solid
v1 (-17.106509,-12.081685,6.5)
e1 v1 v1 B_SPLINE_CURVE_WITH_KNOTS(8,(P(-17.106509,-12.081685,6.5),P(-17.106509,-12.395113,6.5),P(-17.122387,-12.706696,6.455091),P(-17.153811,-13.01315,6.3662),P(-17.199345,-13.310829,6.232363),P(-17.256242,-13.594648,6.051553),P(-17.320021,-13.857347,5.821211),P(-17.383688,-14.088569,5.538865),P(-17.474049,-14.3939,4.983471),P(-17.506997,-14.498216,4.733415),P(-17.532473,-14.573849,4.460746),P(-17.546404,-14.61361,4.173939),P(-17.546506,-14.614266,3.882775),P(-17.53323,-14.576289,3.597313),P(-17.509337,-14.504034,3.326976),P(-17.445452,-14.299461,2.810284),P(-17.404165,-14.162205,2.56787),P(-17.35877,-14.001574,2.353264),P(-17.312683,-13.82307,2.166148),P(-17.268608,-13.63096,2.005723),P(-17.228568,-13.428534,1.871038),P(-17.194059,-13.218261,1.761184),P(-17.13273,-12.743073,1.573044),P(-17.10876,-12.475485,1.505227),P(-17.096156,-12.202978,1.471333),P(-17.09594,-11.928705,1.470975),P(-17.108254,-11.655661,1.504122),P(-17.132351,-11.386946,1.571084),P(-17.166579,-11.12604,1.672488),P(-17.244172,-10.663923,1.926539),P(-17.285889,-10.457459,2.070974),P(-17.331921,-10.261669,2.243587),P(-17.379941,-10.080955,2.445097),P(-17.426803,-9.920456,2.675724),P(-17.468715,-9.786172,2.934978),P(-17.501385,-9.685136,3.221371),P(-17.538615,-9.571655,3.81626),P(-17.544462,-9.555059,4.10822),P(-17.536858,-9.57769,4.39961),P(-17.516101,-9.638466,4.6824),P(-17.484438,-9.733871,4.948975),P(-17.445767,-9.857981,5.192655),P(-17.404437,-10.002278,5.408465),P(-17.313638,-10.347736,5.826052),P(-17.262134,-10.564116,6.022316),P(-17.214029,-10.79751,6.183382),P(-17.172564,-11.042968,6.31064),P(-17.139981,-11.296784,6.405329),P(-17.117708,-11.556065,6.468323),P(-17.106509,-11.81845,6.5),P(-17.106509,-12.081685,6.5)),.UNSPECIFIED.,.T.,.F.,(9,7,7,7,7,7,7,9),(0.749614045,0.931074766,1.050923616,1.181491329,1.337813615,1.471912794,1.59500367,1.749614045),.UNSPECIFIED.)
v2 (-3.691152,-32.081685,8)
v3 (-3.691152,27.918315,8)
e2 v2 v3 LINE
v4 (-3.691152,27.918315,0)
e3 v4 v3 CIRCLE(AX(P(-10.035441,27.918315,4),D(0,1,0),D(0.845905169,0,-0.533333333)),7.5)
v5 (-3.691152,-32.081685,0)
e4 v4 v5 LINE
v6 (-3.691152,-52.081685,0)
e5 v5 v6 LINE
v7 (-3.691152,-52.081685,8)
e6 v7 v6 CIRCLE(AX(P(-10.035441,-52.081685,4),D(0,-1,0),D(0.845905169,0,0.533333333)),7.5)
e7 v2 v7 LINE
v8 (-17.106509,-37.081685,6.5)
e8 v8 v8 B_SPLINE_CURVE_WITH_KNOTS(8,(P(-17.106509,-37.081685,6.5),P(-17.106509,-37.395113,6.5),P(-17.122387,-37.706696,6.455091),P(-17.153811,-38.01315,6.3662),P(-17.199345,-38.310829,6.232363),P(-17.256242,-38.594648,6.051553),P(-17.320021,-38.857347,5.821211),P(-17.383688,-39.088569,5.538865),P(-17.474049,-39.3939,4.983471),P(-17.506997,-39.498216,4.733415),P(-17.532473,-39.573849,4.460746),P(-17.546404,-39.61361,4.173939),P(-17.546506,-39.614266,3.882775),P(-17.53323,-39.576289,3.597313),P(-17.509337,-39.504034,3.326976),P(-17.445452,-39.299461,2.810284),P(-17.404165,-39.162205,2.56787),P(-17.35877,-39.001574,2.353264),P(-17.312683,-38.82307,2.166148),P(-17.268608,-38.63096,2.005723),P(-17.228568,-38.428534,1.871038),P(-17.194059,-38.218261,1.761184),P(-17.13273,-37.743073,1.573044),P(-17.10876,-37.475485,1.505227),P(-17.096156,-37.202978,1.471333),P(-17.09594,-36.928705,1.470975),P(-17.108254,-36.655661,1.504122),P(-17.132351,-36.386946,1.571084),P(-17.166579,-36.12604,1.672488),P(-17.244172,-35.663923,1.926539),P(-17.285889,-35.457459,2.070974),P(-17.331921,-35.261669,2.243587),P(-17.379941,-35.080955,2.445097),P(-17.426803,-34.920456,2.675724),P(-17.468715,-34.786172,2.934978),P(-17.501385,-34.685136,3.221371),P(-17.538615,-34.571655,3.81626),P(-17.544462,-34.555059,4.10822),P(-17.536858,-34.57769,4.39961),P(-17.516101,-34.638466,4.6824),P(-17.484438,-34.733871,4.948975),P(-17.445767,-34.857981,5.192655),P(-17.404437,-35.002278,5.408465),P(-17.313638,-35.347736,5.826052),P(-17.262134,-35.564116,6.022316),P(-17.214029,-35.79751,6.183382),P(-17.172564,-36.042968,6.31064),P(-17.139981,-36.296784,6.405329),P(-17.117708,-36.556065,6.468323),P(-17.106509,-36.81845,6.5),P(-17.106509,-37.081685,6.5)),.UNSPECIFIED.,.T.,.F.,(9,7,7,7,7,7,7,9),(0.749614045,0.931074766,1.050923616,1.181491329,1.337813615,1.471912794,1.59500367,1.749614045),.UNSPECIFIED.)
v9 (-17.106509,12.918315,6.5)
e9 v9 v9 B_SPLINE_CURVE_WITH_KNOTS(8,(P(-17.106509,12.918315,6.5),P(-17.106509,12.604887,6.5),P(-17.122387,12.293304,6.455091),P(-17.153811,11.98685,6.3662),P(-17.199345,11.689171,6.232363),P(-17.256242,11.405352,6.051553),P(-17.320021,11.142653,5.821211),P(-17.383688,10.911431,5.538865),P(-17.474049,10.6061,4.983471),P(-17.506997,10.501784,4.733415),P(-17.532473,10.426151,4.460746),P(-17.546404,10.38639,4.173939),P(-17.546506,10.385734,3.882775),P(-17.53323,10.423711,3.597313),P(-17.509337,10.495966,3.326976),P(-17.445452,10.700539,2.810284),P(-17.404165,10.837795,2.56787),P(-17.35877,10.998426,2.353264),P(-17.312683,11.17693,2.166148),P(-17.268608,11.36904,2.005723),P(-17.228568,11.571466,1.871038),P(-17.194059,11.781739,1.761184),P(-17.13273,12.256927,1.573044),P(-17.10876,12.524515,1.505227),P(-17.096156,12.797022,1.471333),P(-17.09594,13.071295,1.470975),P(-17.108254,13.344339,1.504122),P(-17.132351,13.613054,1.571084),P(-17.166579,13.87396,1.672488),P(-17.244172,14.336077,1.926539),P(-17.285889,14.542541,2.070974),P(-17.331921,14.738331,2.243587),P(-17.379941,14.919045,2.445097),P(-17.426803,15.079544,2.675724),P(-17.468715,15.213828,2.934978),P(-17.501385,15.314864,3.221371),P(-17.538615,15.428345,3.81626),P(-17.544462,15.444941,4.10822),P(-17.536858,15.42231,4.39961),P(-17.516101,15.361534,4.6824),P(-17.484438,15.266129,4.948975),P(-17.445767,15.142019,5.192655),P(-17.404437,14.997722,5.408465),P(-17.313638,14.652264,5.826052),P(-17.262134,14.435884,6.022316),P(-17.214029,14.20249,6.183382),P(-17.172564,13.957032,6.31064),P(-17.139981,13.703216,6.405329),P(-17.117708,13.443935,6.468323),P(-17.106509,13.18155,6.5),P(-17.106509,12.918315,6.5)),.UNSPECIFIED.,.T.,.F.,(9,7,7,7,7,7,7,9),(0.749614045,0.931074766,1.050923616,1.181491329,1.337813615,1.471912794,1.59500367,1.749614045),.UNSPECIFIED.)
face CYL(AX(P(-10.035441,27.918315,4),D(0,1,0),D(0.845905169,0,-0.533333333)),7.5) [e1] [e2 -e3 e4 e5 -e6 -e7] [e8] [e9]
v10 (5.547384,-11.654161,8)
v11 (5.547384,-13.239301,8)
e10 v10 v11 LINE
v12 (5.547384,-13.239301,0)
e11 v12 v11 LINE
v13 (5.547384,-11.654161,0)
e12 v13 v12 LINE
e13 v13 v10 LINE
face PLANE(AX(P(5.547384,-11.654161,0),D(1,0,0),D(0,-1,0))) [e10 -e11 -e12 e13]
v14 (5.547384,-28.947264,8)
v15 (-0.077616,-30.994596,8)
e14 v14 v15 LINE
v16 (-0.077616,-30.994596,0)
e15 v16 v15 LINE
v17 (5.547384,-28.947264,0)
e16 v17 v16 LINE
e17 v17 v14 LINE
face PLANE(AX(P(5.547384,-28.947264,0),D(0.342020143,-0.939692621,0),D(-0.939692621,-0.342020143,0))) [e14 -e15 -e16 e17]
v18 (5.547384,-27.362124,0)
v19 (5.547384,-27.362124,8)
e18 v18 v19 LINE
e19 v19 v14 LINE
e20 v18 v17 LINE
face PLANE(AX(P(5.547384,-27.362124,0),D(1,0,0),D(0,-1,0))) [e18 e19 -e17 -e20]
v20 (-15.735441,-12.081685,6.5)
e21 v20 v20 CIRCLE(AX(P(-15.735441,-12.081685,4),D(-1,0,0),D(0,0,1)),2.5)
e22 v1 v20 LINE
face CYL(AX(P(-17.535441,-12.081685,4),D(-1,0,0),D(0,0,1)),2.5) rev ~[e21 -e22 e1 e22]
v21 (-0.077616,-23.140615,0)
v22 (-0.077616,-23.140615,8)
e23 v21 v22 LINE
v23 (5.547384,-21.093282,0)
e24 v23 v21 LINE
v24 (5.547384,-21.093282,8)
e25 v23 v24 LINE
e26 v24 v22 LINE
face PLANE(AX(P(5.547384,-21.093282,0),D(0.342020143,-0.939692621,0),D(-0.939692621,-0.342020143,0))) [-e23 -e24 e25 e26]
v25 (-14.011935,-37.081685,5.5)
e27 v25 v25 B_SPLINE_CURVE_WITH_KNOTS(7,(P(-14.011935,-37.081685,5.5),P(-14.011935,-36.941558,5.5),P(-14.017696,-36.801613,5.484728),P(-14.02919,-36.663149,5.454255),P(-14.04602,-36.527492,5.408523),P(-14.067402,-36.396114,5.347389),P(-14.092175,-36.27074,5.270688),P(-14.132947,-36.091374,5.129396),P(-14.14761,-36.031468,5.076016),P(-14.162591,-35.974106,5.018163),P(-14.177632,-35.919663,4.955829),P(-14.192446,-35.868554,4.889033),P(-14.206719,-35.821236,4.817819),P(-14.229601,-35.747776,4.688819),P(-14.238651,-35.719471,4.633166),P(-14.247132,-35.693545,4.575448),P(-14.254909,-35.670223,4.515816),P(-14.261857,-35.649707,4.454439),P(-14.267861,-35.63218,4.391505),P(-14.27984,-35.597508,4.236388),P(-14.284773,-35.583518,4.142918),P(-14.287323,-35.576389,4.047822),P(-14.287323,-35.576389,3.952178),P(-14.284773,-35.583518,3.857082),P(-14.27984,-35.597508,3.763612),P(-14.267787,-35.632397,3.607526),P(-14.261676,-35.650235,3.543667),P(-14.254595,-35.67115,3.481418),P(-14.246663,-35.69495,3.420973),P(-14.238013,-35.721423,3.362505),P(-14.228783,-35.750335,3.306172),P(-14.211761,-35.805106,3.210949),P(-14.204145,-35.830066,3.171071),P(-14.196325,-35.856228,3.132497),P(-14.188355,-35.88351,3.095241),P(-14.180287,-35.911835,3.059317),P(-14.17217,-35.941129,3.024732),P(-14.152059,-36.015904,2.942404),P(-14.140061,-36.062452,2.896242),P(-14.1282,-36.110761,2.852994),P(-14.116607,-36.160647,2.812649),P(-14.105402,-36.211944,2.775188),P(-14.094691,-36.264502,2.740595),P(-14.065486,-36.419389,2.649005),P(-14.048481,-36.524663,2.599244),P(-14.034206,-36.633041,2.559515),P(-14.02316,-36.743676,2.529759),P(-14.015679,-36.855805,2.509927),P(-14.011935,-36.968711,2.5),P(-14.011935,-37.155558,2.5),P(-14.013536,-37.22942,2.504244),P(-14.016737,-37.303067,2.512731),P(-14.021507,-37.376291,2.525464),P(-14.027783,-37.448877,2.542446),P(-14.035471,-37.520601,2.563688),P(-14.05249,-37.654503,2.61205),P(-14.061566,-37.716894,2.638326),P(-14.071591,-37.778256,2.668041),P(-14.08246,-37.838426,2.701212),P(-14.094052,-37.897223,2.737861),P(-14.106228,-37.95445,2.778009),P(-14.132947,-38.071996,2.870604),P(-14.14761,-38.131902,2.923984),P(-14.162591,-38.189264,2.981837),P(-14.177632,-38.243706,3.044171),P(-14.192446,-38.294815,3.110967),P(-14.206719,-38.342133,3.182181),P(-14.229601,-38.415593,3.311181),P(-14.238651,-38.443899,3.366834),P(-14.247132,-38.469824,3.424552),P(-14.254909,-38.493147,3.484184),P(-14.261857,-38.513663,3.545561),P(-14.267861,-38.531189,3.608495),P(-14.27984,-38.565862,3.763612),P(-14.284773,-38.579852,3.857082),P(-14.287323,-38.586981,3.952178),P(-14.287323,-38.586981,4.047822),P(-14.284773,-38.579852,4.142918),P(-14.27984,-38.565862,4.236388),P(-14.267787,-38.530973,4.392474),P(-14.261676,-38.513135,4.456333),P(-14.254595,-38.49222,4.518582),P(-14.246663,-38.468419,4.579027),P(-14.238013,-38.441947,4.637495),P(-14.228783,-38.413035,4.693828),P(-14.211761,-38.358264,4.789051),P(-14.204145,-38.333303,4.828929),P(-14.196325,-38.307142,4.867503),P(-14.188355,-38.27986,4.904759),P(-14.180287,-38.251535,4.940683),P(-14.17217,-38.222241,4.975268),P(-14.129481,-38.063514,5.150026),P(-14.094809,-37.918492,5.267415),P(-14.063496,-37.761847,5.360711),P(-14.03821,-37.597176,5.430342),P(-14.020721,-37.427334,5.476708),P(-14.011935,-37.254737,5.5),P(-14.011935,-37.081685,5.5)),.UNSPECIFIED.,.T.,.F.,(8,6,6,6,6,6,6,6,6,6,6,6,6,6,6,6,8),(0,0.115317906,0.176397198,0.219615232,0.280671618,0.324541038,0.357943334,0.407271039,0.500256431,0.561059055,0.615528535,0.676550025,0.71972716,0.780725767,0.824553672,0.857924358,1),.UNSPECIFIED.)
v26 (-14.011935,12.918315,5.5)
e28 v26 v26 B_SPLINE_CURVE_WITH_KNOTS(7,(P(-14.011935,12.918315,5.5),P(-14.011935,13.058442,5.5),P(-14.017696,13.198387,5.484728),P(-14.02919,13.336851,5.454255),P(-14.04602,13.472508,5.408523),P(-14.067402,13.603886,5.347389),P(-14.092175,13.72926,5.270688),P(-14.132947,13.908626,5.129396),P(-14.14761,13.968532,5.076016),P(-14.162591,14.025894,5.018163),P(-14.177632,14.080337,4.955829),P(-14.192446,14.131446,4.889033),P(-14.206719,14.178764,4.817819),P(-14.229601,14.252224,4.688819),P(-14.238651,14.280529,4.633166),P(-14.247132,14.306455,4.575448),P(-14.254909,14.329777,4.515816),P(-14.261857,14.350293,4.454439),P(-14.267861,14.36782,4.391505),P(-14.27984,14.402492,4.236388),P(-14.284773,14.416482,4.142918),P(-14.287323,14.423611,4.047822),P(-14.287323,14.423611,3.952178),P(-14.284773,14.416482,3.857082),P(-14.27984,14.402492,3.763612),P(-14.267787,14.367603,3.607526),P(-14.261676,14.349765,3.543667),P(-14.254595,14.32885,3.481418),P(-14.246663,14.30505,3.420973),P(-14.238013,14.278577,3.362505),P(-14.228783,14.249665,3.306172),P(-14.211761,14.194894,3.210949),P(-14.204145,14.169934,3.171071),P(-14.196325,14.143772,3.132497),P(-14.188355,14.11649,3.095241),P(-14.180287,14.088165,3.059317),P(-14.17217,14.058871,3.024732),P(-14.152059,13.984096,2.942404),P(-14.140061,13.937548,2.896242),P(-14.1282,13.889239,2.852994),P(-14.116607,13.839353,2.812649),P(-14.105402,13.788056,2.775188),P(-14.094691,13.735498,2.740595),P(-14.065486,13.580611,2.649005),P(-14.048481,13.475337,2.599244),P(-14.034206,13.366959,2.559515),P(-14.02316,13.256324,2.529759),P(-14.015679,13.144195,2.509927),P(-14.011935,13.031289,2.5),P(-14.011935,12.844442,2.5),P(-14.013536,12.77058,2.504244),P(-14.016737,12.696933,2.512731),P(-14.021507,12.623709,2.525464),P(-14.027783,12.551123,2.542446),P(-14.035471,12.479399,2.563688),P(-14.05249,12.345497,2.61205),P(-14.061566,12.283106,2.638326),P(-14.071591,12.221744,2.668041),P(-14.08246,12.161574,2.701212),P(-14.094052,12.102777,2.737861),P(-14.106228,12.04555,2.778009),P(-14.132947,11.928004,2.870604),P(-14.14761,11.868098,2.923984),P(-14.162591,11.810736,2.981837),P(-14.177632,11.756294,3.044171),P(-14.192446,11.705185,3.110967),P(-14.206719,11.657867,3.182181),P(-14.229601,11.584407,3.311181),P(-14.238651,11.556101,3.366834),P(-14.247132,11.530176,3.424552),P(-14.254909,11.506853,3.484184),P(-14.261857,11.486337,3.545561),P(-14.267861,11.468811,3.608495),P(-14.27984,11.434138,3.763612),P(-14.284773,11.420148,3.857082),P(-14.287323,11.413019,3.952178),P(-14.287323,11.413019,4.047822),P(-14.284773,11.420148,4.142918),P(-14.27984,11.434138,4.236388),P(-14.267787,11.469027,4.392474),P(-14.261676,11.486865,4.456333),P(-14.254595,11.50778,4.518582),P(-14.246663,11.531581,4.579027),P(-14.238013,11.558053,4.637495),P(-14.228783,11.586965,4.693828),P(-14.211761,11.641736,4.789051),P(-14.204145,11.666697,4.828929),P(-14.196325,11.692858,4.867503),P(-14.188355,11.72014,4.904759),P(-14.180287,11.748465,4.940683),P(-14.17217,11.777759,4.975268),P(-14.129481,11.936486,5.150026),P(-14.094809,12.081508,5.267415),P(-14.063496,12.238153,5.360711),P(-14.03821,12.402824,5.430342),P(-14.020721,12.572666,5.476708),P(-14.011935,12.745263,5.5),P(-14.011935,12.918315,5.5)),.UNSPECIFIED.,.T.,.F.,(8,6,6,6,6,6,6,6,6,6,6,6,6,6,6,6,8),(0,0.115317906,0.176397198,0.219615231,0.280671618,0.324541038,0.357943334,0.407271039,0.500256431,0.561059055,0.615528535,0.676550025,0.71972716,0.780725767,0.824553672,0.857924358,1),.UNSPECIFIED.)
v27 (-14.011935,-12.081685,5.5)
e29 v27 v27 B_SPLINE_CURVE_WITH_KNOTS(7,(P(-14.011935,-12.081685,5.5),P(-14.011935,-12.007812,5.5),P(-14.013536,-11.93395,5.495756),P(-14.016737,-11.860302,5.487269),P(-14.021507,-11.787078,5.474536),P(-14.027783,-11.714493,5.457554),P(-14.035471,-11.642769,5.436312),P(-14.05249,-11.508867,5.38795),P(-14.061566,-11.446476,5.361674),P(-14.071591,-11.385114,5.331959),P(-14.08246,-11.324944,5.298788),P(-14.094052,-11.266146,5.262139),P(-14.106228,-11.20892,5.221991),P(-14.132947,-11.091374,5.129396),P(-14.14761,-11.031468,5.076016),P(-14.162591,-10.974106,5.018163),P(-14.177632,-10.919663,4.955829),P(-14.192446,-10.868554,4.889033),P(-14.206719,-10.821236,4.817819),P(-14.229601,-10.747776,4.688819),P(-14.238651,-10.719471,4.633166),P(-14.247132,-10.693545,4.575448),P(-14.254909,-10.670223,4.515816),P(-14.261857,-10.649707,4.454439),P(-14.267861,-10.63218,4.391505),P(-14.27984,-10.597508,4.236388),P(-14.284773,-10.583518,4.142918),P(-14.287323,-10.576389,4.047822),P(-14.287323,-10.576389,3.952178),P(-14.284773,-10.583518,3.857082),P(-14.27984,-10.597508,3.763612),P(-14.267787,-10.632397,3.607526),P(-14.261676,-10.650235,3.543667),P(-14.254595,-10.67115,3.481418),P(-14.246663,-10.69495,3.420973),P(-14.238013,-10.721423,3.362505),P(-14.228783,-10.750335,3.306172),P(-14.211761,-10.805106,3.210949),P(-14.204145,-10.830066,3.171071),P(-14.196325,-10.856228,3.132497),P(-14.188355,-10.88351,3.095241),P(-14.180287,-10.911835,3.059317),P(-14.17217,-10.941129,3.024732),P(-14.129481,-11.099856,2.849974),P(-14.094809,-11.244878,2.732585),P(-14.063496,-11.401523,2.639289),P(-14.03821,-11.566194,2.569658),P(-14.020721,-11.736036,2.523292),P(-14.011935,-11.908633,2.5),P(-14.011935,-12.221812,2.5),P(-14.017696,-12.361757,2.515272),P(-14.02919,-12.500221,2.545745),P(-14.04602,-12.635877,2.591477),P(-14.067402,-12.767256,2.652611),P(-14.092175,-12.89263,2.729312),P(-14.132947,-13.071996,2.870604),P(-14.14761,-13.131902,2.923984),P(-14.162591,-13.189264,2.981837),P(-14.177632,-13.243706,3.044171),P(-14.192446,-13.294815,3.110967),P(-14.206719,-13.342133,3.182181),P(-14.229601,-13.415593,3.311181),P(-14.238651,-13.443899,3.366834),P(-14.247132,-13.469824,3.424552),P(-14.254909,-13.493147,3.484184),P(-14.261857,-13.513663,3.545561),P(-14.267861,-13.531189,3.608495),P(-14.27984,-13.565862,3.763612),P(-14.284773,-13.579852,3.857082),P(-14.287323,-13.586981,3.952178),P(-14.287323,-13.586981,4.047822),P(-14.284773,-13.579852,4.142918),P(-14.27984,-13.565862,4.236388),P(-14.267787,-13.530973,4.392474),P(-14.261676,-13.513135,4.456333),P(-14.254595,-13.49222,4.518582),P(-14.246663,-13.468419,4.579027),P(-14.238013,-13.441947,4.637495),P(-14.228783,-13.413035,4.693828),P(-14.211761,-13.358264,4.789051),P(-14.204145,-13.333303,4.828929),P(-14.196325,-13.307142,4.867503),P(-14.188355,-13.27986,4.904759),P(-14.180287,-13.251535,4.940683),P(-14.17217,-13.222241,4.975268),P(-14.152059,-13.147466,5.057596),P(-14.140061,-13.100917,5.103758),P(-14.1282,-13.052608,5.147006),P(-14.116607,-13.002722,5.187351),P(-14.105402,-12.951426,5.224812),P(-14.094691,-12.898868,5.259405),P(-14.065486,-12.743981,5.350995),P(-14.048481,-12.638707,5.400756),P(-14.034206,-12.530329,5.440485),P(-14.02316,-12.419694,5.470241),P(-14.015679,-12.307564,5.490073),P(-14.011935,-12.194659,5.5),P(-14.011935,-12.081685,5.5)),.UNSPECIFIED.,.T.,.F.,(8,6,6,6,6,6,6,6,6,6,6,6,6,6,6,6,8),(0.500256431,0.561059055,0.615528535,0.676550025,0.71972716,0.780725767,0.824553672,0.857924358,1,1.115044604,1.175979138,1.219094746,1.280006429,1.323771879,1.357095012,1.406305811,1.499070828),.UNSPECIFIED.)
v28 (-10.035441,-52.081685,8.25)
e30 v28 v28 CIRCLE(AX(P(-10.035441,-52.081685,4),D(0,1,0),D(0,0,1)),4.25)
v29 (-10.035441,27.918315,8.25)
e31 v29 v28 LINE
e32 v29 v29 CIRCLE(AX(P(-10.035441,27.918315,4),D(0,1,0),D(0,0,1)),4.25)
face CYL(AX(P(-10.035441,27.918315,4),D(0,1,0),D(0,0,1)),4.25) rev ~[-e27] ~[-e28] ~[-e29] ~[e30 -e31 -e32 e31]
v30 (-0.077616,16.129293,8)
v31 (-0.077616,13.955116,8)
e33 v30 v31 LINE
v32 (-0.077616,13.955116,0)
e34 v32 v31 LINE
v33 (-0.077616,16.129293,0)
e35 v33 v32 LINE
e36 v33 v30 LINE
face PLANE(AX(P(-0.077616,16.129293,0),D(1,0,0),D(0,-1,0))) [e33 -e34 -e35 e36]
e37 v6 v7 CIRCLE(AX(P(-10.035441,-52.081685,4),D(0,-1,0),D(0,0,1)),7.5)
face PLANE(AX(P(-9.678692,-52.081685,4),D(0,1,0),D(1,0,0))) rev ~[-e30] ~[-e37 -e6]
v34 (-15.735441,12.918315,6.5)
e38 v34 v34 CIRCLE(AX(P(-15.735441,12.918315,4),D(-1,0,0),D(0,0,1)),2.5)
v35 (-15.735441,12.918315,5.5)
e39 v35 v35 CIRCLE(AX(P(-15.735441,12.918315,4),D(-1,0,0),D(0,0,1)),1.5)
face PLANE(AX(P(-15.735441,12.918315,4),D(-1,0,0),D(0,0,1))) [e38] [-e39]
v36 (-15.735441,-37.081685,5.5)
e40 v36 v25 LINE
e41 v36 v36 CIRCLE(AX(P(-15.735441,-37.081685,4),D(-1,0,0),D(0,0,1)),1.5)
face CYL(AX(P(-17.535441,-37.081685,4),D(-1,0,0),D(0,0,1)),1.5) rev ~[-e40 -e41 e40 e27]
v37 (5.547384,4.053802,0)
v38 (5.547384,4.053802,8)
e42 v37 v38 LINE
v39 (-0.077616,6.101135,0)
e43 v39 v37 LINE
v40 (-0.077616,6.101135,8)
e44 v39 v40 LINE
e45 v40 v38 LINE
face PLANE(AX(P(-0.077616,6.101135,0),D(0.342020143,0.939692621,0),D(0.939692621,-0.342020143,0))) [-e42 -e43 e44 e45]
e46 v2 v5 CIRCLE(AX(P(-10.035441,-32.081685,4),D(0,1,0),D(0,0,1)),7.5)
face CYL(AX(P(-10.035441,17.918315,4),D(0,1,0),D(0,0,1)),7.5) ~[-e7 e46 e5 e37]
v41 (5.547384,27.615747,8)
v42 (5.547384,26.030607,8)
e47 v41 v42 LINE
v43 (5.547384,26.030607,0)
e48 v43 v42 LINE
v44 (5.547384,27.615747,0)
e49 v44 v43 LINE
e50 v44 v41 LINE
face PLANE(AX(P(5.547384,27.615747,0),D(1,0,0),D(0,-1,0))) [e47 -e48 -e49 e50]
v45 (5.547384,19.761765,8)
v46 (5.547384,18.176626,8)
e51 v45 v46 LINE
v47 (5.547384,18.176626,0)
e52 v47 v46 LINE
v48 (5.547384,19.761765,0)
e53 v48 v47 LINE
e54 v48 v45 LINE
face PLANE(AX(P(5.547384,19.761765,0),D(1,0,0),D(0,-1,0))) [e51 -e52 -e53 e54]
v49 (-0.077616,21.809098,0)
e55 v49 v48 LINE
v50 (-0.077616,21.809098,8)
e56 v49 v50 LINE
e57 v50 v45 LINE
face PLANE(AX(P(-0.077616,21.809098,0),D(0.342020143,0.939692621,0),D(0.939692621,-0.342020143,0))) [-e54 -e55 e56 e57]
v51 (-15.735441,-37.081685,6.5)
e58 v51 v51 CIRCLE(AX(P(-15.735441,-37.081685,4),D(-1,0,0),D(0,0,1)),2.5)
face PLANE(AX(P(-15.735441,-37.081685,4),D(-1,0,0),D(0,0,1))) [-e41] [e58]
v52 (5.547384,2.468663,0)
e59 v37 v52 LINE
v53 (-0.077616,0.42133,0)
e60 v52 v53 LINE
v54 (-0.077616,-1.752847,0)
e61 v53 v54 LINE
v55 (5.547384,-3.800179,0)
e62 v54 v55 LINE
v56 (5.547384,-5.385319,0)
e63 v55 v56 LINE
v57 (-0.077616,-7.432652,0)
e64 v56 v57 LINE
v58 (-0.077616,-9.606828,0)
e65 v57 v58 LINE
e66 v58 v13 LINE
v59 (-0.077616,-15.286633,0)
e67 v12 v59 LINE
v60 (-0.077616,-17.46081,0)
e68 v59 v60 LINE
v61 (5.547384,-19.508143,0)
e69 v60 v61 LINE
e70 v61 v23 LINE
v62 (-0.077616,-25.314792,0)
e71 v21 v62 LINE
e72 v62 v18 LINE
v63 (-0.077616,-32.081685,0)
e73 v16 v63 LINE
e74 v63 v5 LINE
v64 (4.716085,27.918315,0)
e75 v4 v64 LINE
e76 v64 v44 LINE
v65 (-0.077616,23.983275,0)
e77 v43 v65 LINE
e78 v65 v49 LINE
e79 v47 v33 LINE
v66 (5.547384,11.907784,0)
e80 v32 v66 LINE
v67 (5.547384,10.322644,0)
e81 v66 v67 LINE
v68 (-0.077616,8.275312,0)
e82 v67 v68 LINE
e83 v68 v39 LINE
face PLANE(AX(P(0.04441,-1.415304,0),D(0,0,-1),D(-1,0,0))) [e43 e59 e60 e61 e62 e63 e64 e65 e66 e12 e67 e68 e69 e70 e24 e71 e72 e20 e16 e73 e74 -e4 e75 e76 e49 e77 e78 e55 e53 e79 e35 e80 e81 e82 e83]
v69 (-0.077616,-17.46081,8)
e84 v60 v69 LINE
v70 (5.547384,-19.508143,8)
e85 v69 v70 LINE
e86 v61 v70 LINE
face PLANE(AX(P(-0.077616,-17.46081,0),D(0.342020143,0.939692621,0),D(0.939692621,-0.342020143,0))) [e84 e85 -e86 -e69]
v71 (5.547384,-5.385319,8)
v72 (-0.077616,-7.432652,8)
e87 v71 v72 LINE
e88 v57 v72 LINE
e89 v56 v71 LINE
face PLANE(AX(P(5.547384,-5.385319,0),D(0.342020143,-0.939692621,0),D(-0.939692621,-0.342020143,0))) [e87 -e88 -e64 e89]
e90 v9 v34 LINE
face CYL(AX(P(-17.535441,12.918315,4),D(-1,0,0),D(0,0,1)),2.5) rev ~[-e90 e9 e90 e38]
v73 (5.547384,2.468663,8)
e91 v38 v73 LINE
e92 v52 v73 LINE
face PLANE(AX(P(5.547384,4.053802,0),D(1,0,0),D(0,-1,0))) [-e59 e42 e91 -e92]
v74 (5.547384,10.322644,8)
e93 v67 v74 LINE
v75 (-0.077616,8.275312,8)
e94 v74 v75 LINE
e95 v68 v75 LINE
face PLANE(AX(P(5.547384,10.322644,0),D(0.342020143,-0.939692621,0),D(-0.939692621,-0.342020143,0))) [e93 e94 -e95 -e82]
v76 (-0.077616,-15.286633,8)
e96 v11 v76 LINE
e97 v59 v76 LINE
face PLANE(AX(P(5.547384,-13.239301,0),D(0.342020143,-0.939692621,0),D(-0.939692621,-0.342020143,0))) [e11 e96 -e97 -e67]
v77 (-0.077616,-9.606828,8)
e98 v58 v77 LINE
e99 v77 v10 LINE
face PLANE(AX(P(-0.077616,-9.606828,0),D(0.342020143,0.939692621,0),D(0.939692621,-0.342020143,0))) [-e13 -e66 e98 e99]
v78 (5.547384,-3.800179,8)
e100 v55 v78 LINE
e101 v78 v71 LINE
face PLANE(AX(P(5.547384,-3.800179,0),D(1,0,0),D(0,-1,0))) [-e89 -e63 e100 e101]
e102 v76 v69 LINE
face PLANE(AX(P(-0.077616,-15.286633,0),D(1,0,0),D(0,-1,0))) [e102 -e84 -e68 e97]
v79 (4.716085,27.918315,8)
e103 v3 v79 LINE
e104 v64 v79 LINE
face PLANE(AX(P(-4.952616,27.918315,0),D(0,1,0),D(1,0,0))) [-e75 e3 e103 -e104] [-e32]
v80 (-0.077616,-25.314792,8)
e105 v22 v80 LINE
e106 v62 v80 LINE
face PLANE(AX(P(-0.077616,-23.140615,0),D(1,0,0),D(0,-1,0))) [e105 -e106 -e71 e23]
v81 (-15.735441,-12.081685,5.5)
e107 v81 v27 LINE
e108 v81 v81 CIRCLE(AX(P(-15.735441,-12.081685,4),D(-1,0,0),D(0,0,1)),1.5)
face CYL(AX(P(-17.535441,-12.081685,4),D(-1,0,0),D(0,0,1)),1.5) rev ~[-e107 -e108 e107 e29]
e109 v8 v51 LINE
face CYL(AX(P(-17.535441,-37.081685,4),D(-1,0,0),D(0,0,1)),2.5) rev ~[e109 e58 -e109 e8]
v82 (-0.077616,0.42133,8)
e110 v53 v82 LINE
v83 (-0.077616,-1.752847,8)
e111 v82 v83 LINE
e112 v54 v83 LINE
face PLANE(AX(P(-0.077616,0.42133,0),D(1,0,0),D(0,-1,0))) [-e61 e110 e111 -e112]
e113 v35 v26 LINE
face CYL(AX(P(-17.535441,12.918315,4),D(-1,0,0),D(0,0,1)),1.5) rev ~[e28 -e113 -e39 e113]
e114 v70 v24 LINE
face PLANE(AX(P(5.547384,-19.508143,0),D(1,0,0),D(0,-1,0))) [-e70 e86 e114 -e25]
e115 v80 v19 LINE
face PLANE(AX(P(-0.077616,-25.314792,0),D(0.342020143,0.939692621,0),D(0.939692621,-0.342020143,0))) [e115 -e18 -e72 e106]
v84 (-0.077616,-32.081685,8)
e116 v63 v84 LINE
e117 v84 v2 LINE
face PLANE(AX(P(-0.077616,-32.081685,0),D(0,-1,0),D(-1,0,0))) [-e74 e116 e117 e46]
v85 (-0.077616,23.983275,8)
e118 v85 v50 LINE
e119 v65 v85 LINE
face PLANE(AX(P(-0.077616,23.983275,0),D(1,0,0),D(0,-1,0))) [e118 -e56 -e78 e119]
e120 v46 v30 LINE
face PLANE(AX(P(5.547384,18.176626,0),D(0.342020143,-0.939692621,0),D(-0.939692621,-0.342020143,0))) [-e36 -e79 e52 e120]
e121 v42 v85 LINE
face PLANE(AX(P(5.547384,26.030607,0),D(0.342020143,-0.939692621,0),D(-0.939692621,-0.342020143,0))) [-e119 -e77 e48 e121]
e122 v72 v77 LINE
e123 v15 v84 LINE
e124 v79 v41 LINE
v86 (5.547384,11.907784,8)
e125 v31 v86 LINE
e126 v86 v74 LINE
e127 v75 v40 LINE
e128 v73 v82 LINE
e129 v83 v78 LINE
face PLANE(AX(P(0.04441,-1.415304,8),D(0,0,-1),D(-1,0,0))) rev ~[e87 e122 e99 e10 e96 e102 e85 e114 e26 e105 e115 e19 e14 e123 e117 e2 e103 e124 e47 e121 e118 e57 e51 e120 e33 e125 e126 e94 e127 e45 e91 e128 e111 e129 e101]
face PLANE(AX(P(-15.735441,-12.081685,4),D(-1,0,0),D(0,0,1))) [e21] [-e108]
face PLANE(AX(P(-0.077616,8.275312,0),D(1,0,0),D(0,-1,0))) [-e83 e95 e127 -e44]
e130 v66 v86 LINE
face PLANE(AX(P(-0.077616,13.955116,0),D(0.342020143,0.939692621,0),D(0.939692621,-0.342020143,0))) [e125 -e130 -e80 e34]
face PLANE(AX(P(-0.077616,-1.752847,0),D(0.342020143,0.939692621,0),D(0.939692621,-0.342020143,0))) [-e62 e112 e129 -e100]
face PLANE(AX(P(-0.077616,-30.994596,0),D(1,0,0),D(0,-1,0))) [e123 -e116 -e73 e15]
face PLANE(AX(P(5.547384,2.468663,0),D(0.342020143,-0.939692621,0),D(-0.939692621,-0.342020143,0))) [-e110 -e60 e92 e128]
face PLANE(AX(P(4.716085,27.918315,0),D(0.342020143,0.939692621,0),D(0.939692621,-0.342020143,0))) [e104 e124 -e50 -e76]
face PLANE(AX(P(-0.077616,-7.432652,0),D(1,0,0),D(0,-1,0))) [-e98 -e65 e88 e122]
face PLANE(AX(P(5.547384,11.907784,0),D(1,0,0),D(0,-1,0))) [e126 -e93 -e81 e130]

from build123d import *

# Parameters (mm, degrees)
SALIENTE_EXTRUIR1_DEPTH = 8
CROQUIS2_R              = 4.25
SALIENTE_EXTRUIR2_DEPTH = 80
CROQUIS4_R              = 1.5
CORTAR_EXTRUIR1_DEPTH   = 5
CROQUIS5_R              = 1.5
CORTAR_EXTRUIR2_DEPTH   = 7
SALIENTE_EXTRUIR3_START = -70
CROQUIS6_R              = 7.5
CROQUIS6_R_2            = 4.25
SALIENTE_EXTRUIR3_DEPTH = 70
CROQUIS7_R              = 1.5
CORTAR_EXTRUIR3_DEPTH   = 10
CROQUIS11_R             = 2.5
CORTAR_EXTRUIR4_DEPTH   = 1.8


with BuildPart() as part:
    # Croquis1 → Saliente-Extruir1 (new body)
    with BuildSketch(Plane(origin=(0, 0, 0), x_dir=(-1, 0, 0), z_dir=(0, 0, -1))):
        Polygon((-5.547383556, 27.615747118), (-5.547383556, 26.030607477), (0.077616444, 23.983274909), (0.077616444, 21.809098061), (-5.547383556, 19.761765493), (-5.547383556, 18.176625852), (0.077616444, 16.129293284), (0.077616444, 13.955116436), (-5.547383556, 11.907783868), (-5.547383556, 10.322644227), (0.077616444, 8.275311659), (0.077616444, 6.101134811), (-5.547383556, 4.053802243), (-5.547383556, 2.468662602), (0.077616444, 0.421330034), (0.077616444, -1.752846814), (-5.547383556, -3.800179382), (-5.547383556, -5.385319023), (0.077616444, -7.432651591), (0.077616444, -9.606828439), (-5.547383556, -11.654161007), (-5.547383556, -13.239300648), (0.077616444, -15.286633216), (0.077616444, -17.460810064), (-5.547383556, -19.508142632), (-5.547383556, -21.093282273), (0.077616444, -23.140614841), (0.077616444, -25.314791689), (-5.547383556, -27.362124257), (-5.547383556, -28.947263898), (0.077616444, -30.994596466), (0.077616444, -32.08168489), (4.952616444, -32.08168489), (4.952616444, 27.91831511), (-4.71608483, 27.91831511), align=None)
    extrude(amount=-SALIENTE_EXTRUIR1_DEPTH)

    # Croquis2 → Saliente-Extruir2 (add)
    with BuildSketch(Plane(origin=(0, 27.91831511, 0), x_dir=(1, 0, 0), z_dir=(0, 1, 0))):
        with BuildLine():
            Line((-4.952616444, -8), (-4.952616444, -4))
            Line((-4.952616444, -4), (-4.952616444, 0))
            Line((-4.952616444, 0), (-3.691152355, 0))
            ThreePointArc((-3.691152355, 0), (-17.535441126, -4), (-3.691152355, -8))
            Line((-3.691152355, -8), (-4.952616444, -8))
        make_face()
        with Locations(Location((-10.035441126, -4, 0), (0, 0, 270))):
            Circle(CROQUIS2_R, mode=Mode.SUBTRACT)
    extrude(amount=-SALIENTE_EXTRUIR2_DEPTH)

    # Croquis4 → Cortar-Extruir1 (cut)
    with BuildSketch(Plane.ZY.offset(17.535441126)):
        with Locations((4, 12.91831511)):
            Circle(CROQUIS4_R)
        with Locations((4, -37.08168489)):
            Circle(CROQUIS4_R)
    extrude(amount=-CORTAR_EXTRUIR1_DEPTH, mode=Mode.SUBTRACT)

    # Croquis5 → Cortar-Extruir2 (cut, symmetric)
    with BuildSketch(Plane.ZY.offset(17.535441126)):
        with Locations(Location((4, -12.08168489, 0), (0, 0, 180))):
            Circle(CROQUIS5_R)
    extrude(amount=CORTAR_EXTRUIR2_DEPTH, both=True, mode=Mode.SUBTRACT)

    # Croquis6 → Saliente-Extruir3 (add)
    with BuildSketch(Plane.XZ.offset(52.08168489).offset(SALIENTE_EXTRUIR3_START)):
        with Locations(Location((-10.035441126, 4, 0), (0, 0, 90))):
            Circle(CROQUIS6_R)
        with Locations(Location((-10.035441126, 4, 0), (0, 0, 90))):
            Circle(CROQUIS6_R_2, mode=Mode.SUBTRACT)
    extrude(amount=SALIENTE_EXTRUIR3_DEPTH)

    # Croquis7 → Cortar-Extruir3 (cut)
    with BuildSketch(Plane.ZY.offset(17.535441126)):
        with Locations((4, -12.08168489)):
            Circle(CROQUIS7_R)
        with Locations((4, -37.08168489)):
            Circle(CROQUIS7_R)
        with Locations((4, 12.91831511)):
            Circle(CROQUIS7_R)
    extrude(amount=-CORTAR_EXTRUIR3_DEPTH, mode=Mode.SUBTRACT)

    # Croquis11 → Cortar-Extruir4 (cut)
    with BuildSketch(Plane.ZY.offset(17.535441126)):
        with Locations((4, 12.91831511)):
            Circle(CROQUIS11_R)
        with Locations((4, -12.08168489)):
            Circle(CROQUIS11_R)
        with Locations((4, -37.08168489)):
            Circle(CROQUIS11_R)
    extrude(amount=-CORTAR_EXTRUIR4_DEPTH, mode=Mode.SUBTRACT)


solid = part.part
